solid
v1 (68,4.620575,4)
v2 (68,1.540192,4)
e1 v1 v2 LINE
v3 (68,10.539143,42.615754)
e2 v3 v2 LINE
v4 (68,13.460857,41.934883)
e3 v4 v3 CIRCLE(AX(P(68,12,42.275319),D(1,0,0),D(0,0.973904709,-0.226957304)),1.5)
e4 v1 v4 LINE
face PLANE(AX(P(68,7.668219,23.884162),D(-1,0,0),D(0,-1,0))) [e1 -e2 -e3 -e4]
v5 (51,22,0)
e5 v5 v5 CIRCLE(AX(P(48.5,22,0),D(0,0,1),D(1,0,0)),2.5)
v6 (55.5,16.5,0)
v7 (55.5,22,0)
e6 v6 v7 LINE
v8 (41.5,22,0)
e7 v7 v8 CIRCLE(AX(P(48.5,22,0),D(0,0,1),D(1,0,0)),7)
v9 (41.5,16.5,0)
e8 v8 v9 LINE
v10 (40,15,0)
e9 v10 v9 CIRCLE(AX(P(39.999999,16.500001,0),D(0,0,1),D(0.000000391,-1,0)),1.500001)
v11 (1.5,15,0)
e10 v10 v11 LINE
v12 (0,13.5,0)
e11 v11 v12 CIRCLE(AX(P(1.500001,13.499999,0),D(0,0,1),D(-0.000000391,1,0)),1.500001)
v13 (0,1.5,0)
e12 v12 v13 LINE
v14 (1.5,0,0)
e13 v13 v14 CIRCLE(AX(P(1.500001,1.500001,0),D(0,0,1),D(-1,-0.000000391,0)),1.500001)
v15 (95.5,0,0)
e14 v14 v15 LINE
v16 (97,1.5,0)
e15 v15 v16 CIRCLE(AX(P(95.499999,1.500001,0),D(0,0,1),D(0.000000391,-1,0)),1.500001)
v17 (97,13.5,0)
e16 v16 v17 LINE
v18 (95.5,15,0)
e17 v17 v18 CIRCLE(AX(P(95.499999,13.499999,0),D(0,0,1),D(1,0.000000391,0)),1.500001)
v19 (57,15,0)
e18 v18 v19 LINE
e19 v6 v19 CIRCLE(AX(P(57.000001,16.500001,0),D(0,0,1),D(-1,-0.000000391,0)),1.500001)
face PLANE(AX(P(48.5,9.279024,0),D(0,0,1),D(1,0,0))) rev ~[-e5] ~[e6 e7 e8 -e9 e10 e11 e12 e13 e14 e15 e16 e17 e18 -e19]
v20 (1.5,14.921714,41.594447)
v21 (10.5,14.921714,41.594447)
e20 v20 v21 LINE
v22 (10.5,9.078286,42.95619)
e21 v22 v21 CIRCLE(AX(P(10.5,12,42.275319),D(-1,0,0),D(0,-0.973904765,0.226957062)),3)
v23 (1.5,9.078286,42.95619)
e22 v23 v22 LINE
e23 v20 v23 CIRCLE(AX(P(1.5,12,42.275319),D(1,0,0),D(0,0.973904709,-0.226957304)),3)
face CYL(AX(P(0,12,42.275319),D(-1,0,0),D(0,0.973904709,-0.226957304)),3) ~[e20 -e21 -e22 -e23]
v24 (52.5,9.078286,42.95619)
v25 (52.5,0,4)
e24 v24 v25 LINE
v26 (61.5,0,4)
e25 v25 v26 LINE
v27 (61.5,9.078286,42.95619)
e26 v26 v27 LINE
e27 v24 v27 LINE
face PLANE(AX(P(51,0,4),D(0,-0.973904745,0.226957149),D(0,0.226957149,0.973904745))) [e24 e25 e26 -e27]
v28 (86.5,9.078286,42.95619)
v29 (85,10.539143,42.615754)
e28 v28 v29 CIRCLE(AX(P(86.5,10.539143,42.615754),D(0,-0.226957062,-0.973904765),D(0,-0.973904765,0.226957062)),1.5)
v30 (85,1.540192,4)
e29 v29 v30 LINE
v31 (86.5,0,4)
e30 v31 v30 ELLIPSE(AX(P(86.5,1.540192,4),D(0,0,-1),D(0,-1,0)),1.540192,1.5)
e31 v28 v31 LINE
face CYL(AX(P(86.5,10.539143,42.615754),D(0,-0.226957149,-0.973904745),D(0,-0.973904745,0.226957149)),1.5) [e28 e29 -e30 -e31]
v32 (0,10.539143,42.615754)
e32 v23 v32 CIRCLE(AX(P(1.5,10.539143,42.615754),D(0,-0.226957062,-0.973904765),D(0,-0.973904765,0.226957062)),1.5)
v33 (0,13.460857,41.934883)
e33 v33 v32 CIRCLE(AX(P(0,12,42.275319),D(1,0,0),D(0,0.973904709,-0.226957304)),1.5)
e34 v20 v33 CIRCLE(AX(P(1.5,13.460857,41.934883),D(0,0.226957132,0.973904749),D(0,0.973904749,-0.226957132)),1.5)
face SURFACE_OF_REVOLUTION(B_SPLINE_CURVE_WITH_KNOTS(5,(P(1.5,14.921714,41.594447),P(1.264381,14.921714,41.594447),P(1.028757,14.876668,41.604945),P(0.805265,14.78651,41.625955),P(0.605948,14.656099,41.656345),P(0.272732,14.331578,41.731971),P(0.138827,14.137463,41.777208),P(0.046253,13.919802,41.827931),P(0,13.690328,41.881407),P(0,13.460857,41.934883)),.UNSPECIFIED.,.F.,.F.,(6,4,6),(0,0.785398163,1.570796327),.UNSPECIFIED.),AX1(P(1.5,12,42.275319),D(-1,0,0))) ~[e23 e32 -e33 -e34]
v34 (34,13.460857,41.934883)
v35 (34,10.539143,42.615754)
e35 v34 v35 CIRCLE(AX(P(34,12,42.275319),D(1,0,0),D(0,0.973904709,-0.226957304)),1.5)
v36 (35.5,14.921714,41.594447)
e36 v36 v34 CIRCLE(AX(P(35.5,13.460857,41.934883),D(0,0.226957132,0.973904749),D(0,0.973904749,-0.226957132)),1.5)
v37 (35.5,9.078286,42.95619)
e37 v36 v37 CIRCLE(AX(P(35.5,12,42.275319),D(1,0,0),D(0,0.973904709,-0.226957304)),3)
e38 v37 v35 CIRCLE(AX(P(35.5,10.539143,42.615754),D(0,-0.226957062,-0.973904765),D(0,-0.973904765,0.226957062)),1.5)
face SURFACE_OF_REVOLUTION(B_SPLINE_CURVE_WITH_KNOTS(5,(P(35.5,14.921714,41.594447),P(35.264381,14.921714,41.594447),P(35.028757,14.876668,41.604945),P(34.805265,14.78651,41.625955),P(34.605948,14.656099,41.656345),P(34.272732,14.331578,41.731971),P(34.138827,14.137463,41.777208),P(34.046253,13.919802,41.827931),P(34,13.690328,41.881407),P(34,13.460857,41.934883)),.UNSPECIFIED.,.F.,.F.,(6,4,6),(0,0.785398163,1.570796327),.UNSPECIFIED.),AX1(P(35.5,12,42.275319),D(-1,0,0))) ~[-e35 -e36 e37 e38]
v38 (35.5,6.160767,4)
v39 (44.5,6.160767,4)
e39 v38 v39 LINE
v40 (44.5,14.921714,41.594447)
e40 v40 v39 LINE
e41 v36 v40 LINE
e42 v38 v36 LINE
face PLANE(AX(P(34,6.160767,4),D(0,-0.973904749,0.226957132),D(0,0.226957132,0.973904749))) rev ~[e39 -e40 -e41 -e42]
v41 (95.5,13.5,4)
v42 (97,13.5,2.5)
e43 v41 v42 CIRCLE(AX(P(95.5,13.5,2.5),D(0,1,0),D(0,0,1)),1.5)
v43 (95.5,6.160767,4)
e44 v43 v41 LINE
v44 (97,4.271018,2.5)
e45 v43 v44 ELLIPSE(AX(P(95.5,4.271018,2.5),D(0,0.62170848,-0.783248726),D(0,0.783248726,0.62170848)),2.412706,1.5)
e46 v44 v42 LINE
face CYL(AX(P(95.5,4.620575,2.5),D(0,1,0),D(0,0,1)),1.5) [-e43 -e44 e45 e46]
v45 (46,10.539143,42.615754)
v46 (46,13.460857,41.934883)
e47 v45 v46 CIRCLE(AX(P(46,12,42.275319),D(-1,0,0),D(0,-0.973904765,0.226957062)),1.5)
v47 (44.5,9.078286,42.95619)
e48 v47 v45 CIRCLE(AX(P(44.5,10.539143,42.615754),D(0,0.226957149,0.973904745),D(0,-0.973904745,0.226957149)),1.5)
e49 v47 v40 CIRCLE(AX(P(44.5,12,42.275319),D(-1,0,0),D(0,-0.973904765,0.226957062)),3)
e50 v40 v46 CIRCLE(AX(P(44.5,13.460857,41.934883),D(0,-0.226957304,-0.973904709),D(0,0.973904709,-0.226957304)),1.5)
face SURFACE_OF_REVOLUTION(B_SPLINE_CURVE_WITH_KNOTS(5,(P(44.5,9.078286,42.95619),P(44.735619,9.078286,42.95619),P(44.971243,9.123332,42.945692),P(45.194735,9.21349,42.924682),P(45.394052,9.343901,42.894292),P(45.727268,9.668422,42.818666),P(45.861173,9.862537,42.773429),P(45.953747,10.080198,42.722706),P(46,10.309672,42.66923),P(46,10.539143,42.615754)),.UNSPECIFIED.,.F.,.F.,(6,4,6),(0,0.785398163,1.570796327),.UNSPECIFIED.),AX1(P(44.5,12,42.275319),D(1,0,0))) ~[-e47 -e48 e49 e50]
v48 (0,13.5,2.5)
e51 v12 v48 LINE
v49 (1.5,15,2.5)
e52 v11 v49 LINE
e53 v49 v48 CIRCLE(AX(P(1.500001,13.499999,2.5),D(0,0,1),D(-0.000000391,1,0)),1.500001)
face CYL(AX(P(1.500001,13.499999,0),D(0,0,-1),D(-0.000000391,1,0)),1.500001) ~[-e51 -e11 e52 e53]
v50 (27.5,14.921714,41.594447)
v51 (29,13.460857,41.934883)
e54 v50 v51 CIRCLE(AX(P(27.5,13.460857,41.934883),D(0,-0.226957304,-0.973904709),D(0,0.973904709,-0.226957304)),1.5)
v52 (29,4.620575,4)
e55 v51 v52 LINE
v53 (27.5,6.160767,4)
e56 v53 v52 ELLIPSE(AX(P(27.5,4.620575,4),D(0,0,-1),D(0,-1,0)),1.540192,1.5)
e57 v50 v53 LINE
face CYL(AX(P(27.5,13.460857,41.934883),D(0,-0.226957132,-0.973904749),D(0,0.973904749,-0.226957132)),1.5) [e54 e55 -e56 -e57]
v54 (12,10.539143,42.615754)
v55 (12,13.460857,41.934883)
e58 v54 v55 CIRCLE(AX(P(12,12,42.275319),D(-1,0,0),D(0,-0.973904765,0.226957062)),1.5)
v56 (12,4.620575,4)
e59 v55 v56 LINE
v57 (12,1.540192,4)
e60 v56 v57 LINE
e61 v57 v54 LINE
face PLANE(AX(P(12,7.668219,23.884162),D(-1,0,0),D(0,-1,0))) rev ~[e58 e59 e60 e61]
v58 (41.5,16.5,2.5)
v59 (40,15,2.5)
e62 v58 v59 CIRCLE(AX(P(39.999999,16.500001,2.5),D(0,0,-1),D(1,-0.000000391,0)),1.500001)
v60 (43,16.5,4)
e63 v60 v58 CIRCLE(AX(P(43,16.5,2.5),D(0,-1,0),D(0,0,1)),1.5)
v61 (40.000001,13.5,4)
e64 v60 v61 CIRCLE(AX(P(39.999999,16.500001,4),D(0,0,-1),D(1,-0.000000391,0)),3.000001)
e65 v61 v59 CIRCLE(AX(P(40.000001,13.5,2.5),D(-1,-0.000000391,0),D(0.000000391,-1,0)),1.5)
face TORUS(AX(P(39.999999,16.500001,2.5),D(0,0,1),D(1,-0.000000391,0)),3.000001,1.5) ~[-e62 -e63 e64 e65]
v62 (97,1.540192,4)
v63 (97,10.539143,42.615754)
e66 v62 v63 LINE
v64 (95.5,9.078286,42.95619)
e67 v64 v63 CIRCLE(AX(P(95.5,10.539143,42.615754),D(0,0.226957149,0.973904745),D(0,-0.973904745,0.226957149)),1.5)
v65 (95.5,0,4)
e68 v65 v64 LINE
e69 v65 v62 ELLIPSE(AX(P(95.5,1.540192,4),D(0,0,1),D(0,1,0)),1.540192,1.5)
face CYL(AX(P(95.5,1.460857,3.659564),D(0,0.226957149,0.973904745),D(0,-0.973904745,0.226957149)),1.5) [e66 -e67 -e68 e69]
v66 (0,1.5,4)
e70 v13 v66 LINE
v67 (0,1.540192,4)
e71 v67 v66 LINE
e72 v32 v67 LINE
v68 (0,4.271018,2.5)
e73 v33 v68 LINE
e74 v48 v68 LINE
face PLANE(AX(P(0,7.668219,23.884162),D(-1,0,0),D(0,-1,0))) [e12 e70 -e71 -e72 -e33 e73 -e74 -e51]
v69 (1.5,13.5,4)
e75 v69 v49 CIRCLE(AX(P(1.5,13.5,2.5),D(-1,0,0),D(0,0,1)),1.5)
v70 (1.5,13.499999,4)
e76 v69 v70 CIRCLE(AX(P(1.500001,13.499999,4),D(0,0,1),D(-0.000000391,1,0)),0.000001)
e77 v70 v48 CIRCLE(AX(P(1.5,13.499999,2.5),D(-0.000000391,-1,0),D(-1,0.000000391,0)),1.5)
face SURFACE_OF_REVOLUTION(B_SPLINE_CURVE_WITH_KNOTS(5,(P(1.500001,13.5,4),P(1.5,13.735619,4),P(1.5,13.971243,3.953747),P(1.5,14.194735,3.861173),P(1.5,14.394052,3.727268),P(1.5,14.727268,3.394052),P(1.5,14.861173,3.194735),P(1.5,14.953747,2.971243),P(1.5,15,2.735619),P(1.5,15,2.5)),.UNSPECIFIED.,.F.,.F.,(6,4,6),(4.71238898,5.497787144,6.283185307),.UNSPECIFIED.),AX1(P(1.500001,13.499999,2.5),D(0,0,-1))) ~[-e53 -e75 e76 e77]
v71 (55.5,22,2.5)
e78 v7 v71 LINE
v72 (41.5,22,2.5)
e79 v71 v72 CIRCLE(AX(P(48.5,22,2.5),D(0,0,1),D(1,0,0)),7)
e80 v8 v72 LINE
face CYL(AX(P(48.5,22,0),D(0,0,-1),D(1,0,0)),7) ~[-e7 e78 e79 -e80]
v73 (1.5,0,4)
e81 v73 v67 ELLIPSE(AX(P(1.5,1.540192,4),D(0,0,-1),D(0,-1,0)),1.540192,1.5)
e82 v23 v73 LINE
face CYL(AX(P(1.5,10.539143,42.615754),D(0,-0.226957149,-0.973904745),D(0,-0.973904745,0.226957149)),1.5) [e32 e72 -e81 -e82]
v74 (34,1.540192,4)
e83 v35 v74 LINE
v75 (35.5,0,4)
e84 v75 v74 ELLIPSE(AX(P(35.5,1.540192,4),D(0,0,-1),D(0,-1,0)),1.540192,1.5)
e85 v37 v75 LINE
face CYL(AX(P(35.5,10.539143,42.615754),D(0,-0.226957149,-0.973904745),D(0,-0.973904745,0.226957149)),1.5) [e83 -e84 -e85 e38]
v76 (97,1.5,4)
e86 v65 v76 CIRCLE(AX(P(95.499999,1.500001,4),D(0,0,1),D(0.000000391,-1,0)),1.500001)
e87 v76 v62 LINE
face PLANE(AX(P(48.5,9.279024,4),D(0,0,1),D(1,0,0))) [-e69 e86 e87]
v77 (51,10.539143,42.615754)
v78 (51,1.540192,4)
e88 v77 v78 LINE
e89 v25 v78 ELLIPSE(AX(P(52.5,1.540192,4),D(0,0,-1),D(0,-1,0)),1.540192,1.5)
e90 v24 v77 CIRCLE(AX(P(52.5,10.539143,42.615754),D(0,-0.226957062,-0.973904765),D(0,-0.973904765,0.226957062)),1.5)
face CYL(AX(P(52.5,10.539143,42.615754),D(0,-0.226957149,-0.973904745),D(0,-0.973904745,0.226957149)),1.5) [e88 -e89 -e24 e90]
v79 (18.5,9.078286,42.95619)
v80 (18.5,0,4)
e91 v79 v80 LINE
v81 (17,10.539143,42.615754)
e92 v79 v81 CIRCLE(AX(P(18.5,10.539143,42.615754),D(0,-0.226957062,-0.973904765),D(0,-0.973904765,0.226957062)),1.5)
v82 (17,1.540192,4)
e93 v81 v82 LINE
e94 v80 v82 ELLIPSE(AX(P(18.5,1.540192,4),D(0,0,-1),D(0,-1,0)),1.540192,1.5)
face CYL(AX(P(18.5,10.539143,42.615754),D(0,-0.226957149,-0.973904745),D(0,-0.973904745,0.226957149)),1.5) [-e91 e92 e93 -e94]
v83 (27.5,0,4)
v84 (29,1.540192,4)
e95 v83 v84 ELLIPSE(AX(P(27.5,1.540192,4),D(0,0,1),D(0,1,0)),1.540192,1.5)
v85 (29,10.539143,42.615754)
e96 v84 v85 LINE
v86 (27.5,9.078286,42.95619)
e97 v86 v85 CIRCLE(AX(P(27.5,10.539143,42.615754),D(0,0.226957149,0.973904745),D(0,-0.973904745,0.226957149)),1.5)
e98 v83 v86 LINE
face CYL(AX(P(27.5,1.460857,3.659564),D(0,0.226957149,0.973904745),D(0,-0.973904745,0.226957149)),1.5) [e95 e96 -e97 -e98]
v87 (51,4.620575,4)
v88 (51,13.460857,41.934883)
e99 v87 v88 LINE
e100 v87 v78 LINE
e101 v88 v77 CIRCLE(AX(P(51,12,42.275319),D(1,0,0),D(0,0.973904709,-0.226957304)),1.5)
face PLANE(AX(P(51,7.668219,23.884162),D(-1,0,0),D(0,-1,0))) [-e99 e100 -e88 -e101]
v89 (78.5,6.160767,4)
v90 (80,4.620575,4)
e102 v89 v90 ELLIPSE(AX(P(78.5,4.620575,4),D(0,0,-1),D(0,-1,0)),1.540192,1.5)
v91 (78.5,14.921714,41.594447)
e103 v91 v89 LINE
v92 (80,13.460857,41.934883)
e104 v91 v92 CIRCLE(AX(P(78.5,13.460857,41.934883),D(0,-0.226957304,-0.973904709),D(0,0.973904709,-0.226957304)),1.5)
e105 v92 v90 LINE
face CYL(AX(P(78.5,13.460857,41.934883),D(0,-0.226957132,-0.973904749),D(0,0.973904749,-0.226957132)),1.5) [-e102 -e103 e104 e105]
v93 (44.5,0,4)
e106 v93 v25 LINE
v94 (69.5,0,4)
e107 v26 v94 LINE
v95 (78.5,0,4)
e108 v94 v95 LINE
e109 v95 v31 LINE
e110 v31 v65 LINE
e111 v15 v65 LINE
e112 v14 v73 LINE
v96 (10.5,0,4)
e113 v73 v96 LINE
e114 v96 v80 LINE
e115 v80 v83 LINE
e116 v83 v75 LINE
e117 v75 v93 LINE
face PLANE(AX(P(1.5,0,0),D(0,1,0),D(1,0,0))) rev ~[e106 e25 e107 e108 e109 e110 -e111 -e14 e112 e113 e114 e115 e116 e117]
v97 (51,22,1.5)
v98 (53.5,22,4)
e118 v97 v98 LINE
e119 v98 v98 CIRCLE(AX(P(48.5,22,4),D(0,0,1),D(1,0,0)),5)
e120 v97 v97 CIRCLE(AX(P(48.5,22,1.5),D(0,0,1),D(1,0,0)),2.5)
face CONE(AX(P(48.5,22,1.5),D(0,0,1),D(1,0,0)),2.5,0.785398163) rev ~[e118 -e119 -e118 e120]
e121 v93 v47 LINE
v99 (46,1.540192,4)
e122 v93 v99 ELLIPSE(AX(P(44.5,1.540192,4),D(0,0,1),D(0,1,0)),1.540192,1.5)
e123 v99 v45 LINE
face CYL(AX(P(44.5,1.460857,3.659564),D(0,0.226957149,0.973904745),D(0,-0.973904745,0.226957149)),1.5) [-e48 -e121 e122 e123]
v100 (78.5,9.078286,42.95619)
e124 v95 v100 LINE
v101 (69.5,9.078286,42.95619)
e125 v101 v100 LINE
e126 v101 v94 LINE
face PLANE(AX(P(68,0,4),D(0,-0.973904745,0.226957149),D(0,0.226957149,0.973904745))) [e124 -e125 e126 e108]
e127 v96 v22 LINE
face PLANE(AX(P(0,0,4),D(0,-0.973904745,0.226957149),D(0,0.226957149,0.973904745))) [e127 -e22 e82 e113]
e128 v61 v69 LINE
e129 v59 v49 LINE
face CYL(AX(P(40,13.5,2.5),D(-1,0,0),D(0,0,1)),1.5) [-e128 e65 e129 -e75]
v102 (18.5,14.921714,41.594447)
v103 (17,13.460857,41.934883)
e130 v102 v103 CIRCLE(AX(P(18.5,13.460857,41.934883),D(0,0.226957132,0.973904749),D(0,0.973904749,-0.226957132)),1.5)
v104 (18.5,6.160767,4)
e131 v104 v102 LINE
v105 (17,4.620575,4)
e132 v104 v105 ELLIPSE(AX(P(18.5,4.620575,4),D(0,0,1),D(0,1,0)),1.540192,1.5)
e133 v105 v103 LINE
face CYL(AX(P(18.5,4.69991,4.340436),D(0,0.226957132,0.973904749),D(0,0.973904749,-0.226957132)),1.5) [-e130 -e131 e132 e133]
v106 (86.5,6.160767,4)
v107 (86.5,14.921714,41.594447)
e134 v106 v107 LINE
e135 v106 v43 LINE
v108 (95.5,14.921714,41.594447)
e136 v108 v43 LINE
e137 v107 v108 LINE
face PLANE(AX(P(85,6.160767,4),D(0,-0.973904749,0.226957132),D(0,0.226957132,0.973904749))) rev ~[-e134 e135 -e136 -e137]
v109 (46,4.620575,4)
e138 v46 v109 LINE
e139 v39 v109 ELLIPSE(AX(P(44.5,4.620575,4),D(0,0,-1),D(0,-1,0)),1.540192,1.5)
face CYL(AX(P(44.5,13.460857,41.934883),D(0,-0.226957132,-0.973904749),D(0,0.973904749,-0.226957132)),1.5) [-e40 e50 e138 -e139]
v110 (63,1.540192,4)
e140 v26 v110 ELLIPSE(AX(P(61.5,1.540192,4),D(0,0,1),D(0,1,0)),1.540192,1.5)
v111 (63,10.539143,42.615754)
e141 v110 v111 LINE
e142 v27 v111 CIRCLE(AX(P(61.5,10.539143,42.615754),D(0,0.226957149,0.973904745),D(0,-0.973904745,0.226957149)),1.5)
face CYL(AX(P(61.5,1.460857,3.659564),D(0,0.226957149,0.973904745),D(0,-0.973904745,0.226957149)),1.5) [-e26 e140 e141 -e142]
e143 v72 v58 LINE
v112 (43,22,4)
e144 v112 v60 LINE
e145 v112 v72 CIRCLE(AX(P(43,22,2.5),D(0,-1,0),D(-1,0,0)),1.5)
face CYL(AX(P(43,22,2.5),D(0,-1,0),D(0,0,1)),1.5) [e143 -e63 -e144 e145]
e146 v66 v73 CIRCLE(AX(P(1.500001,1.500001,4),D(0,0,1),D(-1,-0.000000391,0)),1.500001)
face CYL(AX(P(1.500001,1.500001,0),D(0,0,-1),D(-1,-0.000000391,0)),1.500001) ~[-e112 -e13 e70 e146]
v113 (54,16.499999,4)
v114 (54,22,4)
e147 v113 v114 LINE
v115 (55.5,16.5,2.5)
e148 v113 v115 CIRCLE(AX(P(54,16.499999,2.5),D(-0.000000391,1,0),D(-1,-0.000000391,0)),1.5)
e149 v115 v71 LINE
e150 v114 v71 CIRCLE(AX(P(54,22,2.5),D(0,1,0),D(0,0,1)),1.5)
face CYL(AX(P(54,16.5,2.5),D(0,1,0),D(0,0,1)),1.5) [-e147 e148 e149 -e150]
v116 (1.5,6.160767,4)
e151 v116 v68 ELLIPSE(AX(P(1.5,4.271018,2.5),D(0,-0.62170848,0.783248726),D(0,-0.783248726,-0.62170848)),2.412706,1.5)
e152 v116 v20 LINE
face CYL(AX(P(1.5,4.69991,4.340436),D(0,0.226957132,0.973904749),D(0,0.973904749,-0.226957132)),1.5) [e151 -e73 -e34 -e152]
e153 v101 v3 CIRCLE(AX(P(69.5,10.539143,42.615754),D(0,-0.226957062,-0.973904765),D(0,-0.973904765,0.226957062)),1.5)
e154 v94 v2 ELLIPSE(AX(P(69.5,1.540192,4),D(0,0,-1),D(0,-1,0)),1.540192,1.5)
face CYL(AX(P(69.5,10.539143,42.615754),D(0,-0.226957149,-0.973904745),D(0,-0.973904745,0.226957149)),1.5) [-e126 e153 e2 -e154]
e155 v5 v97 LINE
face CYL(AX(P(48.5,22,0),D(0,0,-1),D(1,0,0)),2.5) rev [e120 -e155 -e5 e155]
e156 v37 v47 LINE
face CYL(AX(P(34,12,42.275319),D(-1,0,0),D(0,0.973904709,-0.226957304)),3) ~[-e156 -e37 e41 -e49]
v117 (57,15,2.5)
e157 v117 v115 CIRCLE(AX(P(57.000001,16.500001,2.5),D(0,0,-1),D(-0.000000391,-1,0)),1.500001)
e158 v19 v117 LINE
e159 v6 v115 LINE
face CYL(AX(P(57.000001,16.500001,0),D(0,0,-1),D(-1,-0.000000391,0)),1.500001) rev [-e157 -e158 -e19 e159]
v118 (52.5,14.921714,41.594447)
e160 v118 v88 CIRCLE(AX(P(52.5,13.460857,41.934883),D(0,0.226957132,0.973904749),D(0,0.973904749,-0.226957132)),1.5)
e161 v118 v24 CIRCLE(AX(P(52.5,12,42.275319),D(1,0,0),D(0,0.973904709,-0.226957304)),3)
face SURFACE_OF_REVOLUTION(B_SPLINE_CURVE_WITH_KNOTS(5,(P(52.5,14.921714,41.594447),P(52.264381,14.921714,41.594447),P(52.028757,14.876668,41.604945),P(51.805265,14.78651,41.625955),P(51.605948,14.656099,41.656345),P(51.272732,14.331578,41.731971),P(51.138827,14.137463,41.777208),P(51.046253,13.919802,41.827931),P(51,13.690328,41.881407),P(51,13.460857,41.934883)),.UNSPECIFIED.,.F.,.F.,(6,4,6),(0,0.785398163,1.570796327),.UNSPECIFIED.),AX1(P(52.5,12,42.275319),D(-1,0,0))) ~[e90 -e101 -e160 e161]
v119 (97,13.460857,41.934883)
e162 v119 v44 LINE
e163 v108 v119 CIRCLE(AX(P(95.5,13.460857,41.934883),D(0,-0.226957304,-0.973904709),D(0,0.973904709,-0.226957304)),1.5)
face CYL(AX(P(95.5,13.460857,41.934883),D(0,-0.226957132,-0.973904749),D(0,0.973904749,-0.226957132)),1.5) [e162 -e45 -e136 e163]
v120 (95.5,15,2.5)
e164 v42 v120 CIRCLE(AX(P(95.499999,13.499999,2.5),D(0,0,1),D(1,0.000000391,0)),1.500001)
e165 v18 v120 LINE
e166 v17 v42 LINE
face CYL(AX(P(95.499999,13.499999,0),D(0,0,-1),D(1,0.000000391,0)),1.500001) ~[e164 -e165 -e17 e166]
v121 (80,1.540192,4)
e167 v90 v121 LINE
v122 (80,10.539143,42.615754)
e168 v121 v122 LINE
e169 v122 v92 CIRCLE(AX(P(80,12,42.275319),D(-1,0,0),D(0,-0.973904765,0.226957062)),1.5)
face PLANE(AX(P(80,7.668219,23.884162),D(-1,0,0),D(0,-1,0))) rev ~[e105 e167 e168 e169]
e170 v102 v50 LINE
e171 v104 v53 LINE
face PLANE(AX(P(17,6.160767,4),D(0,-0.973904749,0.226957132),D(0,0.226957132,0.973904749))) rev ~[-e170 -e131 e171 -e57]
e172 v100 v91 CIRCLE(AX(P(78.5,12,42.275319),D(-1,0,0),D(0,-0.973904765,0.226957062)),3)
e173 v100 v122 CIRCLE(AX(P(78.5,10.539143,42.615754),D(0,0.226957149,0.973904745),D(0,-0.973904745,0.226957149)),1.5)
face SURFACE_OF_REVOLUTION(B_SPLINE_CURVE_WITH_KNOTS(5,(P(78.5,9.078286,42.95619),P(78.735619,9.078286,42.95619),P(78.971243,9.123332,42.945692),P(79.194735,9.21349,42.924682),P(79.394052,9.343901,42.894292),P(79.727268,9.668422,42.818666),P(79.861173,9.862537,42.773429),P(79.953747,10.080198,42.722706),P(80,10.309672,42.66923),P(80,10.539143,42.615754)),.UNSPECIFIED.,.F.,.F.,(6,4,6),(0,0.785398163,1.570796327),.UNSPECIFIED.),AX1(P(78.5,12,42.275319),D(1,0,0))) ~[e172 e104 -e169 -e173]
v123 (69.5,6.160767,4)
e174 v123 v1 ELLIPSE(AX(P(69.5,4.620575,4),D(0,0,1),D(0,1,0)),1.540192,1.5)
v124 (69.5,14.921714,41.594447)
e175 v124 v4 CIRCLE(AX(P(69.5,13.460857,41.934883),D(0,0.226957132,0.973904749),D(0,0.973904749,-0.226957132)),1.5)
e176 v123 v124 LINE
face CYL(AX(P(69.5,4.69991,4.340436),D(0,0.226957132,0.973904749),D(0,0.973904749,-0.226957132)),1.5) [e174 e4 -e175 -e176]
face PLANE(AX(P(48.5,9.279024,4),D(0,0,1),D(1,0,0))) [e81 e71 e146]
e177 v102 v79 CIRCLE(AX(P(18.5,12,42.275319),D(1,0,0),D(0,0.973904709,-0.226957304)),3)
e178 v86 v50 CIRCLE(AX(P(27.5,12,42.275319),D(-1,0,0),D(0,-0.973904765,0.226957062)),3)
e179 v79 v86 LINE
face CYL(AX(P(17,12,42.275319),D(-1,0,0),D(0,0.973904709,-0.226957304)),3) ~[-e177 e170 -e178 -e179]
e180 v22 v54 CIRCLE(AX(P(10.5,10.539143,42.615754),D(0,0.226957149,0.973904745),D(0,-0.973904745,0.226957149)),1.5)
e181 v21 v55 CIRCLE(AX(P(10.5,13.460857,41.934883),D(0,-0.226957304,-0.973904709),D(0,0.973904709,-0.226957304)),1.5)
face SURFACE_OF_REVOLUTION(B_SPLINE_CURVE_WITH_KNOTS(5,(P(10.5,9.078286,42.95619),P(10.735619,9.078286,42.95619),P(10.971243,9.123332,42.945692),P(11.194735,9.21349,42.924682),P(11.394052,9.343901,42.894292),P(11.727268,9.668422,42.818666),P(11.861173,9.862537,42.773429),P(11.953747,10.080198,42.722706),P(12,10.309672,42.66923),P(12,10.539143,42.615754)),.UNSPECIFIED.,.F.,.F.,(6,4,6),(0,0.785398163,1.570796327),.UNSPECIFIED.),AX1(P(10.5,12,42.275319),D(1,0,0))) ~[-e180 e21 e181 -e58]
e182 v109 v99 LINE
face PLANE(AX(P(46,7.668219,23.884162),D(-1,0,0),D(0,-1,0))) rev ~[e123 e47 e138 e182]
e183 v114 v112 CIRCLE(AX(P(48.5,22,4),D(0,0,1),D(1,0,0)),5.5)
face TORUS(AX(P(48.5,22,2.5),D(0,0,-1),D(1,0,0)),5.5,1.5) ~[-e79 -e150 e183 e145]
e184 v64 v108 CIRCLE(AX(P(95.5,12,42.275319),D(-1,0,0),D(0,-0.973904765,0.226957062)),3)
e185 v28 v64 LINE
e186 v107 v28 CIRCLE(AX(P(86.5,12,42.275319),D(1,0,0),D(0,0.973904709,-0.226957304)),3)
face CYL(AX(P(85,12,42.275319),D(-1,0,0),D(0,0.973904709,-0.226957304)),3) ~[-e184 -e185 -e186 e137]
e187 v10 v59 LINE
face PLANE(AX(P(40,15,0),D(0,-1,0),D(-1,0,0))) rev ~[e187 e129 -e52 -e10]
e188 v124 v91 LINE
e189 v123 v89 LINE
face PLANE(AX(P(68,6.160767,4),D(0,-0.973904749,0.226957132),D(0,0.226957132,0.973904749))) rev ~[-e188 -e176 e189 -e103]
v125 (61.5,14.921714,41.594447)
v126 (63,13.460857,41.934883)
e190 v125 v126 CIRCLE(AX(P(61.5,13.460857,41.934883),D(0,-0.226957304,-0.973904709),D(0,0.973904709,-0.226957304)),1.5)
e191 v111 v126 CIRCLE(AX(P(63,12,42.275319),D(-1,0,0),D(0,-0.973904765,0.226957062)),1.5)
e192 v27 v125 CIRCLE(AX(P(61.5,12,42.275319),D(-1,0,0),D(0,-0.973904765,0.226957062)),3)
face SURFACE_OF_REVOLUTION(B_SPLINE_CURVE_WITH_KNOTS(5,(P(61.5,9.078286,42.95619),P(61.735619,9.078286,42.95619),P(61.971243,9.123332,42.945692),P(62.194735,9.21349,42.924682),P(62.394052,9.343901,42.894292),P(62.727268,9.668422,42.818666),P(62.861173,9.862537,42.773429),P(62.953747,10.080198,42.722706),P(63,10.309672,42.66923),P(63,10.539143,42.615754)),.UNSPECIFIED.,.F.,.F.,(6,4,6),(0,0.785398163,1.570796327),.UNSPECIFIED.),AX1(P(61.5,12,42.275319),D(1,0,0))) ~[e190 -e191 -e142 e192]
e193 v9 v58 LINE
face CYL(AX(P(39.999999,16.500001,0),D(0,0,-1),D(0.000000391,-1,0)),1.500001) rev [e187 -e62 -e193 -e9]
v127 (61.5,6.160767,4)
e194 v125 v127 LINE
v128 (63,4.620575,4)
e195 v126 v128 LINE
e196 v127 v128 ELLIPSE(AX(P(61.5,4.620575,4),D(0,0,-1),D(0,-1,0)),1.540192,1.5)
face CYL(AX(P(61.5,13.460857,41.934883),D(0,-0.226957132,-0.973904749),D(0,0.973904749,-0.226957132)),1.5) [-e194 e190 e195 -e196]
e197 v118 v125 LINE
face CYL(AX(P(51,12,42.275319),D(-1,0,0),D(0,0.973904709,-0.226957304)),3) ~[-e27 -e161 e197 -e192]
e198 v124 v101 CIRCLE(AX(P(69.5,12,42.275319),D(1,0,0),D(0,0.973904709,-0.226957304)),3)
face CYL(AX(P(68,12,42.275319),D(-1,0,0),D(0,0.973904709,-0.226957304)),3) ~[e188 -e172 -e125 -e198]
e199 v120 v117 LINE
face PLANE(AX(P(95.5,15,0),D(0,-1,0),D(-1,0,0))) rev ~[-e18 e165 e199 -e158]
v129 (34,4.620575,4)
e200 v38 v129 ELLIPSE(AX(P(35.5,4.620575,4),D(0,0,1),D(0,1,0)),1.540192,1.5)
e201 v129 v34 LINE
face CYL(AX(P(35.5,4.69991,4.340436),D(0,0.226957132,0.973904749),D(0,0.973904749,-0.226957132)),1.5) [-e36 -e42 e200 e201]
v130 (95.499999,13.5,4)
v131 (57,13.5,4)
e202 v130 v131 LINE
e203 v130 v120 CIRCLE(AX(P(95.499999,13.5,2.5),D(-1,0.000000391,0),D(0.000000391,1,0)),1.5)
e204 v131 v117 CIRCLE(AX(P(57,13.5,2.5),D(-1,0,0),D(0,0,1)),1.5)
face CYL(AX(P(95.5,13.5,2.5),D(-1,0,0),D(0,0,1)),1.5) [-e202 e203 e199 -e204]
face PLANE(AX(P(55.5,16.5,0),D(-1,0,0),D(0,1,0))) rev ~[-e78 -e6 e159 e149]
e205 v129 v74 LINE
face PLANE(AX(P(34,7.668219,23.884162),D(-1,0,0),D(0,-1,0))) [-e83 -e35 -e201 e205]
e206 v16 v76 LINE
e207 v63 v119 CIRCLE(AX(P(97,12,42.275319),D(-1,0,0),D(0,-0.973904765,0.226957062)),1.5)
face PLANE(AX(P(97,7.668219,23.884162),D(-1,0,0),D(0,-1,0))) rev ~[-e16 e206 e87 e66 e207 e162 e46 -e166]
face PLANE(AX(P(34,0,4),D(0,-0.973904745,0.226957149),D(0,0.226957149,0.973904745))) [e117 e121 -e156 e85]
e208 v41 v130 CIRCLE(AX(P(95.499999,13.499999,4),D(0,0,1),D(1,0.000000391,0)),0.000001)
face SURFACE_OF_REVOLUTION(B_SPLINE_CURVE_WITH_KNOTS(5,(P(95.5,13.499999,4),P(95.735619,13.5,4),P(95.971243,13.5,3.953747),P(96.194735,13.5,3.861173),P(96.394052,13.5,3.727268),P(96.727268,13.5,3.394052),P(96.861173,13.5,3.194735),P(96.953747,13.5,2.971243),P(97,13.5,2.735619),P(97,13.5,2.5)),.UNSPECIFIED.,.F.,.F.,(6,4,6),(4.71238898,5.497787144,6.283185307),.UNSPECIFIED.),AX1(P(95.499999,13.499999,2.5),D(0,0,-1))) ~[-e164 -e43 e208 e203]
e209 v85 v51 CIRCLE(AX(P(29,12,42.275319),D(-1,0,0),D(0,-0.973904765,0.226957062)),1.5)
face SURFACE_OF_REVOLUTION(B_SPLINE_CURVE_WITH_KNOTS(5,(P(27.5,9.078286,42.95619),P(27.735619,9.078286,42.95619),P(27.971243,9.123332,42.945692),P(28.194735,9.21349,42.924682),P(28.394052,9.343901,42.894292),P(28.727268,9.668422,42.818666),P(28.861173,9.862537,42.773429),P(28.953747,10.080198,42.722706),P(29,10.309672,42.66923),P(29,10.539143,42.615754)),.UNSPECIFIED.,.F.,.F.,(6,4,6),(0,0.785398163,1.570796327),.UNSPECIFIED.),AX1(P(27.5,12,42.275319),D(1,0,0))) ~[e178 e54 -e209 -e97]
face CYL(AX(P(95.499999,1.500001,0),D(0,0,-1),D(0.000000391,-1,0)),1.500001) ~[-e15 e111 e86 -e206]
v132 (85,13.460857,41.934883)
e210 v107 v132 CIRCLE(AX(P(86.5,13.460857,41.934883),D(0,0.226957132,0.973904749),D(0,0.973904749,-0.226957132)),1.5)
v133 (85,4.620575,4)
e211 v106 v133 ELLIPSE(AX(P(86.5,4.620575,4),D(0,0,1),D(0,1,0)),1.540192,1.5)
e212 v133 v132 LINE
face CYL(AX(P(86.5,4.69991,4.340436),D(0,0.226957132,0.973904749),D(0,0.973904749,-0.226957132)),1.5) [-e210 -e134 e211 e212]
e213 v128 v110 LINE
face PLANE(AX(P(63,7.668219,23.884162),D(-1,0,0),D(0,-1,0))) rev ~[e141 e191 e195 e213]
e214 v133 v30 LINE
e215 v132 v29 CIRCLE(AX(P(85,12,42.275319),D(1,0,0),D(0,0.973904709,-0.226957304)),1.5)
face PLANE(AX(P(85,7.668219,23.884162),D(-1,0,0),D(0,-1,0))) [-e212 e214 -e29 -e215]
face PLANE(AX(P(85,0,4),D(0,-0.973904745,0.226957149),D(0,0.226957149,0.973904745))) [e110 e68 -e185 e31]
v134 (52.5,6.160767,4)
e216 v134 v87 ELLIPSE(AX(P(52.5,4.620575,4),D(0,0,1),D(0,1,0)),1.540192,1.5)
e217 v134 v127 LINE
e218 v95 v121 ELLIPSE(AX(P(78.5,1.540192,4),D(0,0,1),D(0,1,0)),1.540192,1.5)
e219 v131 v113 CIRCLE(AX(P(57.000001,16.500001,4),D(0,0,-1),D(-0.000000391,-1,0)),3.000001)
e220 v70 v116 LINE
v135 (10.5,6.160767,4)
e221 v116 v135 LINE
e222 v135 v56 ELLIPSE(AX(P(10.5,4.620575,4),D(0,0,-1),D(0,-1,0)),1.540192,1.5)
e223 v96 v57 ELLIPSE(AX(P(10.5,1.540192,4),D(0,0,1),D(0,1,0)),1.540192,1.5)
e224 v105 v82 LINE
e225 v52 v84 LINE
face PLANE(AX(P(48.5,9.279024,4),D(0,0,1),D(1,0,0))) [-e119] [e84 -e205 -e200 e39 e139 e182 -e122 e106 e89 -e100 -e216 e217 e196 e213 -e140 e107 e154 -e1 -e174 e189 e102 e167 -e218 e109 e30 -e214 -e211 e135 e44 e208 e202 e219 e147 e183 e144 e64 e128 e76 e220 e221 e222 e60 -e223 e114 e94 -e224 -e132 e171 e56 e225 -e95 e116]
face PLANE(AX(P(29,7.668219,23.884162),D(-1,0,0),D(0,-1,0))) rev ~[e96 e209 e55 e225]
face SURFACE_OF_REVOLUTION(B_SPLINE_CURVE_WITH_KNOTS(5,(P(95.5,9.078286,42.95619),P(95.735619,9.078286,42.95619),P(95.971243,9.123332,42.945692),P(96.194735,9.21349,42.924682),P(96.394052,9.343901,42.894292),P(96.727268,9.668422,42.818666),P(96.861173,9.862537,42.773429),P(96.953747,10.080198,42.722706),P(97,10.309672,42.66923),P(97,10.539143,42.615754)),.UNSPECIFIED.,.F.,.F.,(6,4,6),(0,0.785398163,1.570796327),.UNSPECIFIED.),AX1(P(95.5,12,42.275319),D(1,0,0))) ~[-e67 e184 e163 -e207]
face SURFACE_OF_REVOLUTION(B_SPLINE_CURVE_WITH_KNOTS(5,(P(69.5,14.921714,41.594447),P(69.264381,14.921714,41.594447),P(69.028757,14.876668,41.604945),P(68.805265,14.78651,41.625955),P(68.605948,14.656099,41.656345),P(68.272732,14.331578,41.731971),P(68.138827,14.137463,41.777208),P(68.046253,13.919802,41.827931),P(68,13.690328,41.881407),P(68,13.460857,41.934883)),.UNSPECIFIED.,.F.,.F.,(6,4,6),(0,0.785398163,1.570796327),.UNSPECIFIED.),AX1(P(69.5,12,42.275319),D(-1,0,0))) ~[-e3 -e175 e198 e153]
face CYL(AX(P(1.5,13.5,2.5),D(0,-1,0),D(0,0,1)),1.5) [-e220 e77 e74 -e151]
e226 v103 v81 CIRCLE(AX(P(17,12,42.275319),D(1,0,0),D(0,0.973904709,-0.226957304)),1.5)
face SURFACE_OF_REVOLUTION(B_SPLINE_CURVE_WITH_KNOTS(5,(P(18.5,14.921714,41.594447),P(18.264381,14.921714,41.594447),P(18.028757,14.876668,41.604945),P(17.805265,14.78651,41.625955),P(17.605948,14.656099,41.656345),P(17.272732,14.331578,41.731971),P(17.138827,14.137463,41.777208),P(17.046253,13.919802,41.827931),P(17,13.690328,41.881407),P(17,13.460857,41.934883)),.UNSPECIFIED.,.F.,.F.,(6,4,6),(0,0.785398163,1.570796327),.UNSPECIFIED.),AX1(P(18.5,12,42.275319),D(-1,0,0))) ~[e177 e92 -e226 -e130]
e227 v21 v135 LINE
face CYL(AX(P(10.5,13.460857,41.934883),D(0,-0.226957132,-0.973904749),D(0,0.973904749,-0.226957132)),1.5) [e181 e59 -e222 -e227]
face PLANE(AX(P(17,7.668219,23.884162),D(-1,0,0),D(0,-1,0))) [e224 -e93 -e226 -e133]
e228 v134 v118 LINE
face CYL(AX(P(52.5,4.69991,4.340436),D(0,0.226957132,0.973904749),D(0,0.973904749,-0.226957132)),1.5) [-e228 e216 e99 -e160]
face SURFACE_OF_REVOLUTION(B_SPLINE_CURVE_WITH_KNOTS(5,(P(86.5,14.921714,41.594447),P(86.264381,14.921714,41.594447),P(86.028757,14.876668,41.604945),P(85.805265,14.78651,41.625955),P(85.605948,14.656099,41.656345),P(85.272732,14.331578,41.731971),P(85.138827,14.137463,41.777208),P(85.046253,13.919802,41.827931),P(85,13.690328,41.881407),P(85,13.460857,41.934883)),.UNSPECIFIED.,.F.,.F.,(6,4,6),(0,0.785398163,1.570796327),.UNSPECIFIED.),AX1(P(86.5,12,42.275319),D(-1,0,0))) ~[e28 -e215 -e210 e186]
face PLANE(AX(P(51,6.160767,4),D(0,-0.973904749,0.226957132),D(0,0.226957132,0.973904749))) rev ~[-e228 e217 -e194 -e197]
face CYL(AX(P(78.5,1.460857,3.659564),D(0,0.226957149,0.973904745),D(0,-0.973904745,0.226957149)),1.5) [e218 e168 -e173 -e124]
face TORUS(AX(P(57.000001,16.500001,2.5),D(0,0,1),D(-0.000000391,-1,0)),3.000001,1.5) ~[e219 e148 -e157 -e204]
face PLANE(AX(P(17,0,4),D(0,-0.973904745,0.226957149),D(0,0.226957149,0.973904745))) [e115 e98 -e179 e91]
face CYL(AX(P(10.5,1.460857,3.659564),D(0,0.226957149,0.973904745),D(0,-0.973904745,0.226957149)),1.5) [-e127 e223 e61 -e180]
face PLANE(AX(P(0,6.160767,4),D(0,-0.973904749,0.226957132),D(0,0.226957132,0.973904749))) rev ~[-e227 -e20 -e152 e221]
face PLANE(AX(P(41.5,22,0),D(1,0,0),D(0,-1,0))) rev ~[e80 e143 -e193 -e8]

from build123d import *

# Parameters (mm, degrees)
PAD006_DEPTH = 12
FILLET005_R  = 1.5
PAD005_DEPTH = 12
FILLET004_R  = 1.5
PAD004_DEPTH = 12
FILLET003_R  = 1.5
PAD003_DEPTH = 12
FILLET002_R  = 1.5
PAD002_DEPTH = 12
FILLET001_R  = 1.5
PAD001_DEPTH = 12
FILLET_R     = 1.5
SKETCH_R     = 2.5
PAD_DEPTH    = 4
CHAMFER_SIZE = 2.5
FILLET006_R  = 1.5


with BuildPart() as hook005:
    # Sketch006 → Pad006 (new body)
    with BuildSketch(Plane.YZ):
        with BuildLine():
            Line((0, 4), (9.078286, 42.95619))
            ThreePointArc((14.921714, 41.594447), (12.680871, 45.197033), (9.078286, 42.95619))
            Line((6.160767, 4), (14.921714, 41.594447))
            Line((6.160767, 4), (0, 4))
        make_face()
    extrude(amount=PAD006_DEPTH)

    # Fillet005
    fillet005_edges = [hook005.edges().sort_by_distance(p)[0] for p in [
        (0, 10.541241, 22.797223),
        (12, 4.539143, 23.478095),
    ]]
    fillet(fillet005_edges, radius=FILLET005_R)


with BuildPart() as hook005_1:
    # Body006 placement: moved
    add(hook005.part.moved(Location((85, 0, 0))))


with BuildPart() as hook004:
    # Sketch005 → Pad005 (new body)
    with BuildSketch(Plane.YZ):
        with BuildLine():
            Line((0, 4), (9.078286, 42.95619))
            ThreePointArc((14.921714, 41.594447), (12.680871, 45.197033), (9.078286, 42.95619))
            Line((6.160767, 4), (14.921714, 41.594447))
            Line((6.160767, 4), (0, 4))
        make_face()
    extrude(amount=PAD005_DEPTH)

    # Fillet004
    fillet004_edges = [hook004.edges().sort_by_distance(p)[0] for p in [
        (0, 10.541241, 22.797223),
        (12, 4.539143, 23.478095),
    ]]
    fillet(fillet004_edges, radius=FILLET004_R)


with BuildPart() as hook004_1:
    # Body005 placement: moved
    add(hook004.part.moved(Location((68, 0, 0))))


with BuildPart() as hook003:
    # Sketch004 → Pad004 (new body)
    with BuildSketch(Plane.YZ):
        with BuildLine():
            Line((0, 4), (9.078286, 42.95619))
            ThreePointArc((14.921714, 41.594447), (12.680871, 45.197033), (9.078286, 42.95619))
            Line((6.160767, 4), (14.921714, 41.594447))
            Line((6.160767, 4), (0, 4))
        make_face()
    extrude(amount=PAD004_DEPTH)

    # Fillet003
    fillet003_edges = [hook003.edges().sort_by_distance(p)[0] for p in [
        (0, 10.541241, 22.797223),
        (12, 4.539143, 23.478095),
    ]]
    fillet(fillet003_edges, radius=FILLET003_R)


with BuildPart() as hook003_1:
    # Body004 placement: moved
    add(hook003.part.moved(Location((51, 0, 0))))


with BuildPart() as hook002:
    # Sketch003 → Pad003 (new body)
    with BuildSketch(Plane.YZ):
        with BuildLine():
            Line((0, 4), (9.078286, 42.95619))
            ThreePointArc((14.921714, 41.594447), (12.680871, 45.197033), (9.078286, 42.95619))
            Line((6.160767, 4), (14.921714, 41.594447))
            Line((6.160767, 4), (0, 4))
        make_face()
    extrude(amount=PAD003_DEPTH)

    # Fillet002
    fillet002_edges = [hook002.edges().sort_by_distance(p)[0] for p in [
        (0, 10.541241, 22.797223),
        (12, 4.539143, 23.478095),
    ]]
    fillet(fillet002_edges, radius=FILLET002_R)


with BuildPart() as hook002_1:
    # Body003 placement: moved
    add(hook002.part.moved(Location((34, 0, 0))))


with BuildPart() as hook001:
    # Sketch002 → Pad002 (new body)
    with BuildSketch(Plane.YZ):
        with BuildLine():
            Line((0, 4), (9.078286, 42.95619))
            ThreePointArc((14.921714, 41.594447), (12.680871, 45.197033), (9.078286, 42.95619))
            Line((6.160767, 4), (14.921714, 41.594447))
            Line((6.160767, 4), (0, 4))
        make_face()
    extrude(amount=PAD002_DEPTH)

    # Fillet001
    fillet001_edges = [hook001.edges().sort_by_distance(p)[0] for p in [
        (0, 10.541241, 22.797223),
        (12, 4.539143, 23.478095),
    ]]
    fillet(fillet001_edges, radius=FILLET001_R)


with BuildPart() as hook001_1:
    # Body002 placement: moved
    add(hook001.part.moved(Location((17, 0, 0))))


with BuildPart() as hook:
    # Sketch001 → Pad001 (new body)
    with BuildSketch(Plane.YZ):
        with BuildLine():
            Line((0, 4), (9.078286, 42.95619))
            ThreePointArc((14.921714, 41.594447), (12.680871, 45.197033), (9.078286, 42.95619))
            Line((6.160767, 4), (14.921714, 41.594447))
            Line((6.160767, 4), (0, 4))
        make_face()
    extrude(amount=PAD001_DEPTH)

    # Fillet
    fillet_edges = [hook.edges().sort_by_distance(p)[0] for p in [
        (0, 10.541241, 22.797223),
        (12, 4.539143, 23.478095),
    ]]
    fillet(fillet_edges, radius=FILLET_R)


with BuildPart() as frame:
    # Sketch → Pad (new body)
    with BuildSketch(Plane.XY):
        with BuildLine():
            Line((0, 13.5), (0, 1.5))
            ThreePointArc((0, 1.5), (0.43934, 0.43934), (1.5, 0))
            Line((1.5, 0), (95.5, 0))
            ThreePointArc((95.5, 0), (96.56066, 0.43934), (97, 1.5))
            Line((97, 1.5), (97, 13.5))
            ThreePointArc((97, 13.5), (96.56066, 14.56066), (95.5, 15))
            Line((95.5, 15), (57, 15))
            ThreePointArc((55.5, 16.5), (55.93934, 15.43934), (57, 15))
            Line((55.5, 16.5), (55.5, 22))
            ThreePointArc((55.5, 22), (48.5, 29), (41.5, 22))
            Line((41.5, 22), (41.5, 16.5))
            ThreePointArc((40, 15), (41.06066, 15.43934), (41.5, 16.5))
            Line((40, 15), (1.5, 15))
            ThreePointArc((1.5, 15), (0.43934, 14.56066), (0, 13.5))
        make_face()
        with Locations((48.5, 22)):
            Circle(SKETCH_R, mode=Mode.SUBTRACT)
    extrude(amount=PAD_DEPTH)

    # Chamfer
    chamfer_edges = [frame.edges().sort_by_distance(p)[0] for p in [
        (46, 22, 4),
    ]]
    chamfer(chamfer_edges, length=CHAMFER_SIZE)

    # Boolean: union hook005, hook004, hook003, hook002, hook001, hook
    add(hook005_1.part)
    add(hook004_1.part)
    add(hook003_1.part)
    add(hook002_1.part)
    add(hook001_1.part)
    add(hook.part)

    # Fillet006
    fillet006_edges = [frame.edges().sort_by_distance(p)[0] for p in [
        (20.75, 15, 4),
    ]]
    fillet(fillet006_edges, radius=FILLET006_R)


solid = frame.part
